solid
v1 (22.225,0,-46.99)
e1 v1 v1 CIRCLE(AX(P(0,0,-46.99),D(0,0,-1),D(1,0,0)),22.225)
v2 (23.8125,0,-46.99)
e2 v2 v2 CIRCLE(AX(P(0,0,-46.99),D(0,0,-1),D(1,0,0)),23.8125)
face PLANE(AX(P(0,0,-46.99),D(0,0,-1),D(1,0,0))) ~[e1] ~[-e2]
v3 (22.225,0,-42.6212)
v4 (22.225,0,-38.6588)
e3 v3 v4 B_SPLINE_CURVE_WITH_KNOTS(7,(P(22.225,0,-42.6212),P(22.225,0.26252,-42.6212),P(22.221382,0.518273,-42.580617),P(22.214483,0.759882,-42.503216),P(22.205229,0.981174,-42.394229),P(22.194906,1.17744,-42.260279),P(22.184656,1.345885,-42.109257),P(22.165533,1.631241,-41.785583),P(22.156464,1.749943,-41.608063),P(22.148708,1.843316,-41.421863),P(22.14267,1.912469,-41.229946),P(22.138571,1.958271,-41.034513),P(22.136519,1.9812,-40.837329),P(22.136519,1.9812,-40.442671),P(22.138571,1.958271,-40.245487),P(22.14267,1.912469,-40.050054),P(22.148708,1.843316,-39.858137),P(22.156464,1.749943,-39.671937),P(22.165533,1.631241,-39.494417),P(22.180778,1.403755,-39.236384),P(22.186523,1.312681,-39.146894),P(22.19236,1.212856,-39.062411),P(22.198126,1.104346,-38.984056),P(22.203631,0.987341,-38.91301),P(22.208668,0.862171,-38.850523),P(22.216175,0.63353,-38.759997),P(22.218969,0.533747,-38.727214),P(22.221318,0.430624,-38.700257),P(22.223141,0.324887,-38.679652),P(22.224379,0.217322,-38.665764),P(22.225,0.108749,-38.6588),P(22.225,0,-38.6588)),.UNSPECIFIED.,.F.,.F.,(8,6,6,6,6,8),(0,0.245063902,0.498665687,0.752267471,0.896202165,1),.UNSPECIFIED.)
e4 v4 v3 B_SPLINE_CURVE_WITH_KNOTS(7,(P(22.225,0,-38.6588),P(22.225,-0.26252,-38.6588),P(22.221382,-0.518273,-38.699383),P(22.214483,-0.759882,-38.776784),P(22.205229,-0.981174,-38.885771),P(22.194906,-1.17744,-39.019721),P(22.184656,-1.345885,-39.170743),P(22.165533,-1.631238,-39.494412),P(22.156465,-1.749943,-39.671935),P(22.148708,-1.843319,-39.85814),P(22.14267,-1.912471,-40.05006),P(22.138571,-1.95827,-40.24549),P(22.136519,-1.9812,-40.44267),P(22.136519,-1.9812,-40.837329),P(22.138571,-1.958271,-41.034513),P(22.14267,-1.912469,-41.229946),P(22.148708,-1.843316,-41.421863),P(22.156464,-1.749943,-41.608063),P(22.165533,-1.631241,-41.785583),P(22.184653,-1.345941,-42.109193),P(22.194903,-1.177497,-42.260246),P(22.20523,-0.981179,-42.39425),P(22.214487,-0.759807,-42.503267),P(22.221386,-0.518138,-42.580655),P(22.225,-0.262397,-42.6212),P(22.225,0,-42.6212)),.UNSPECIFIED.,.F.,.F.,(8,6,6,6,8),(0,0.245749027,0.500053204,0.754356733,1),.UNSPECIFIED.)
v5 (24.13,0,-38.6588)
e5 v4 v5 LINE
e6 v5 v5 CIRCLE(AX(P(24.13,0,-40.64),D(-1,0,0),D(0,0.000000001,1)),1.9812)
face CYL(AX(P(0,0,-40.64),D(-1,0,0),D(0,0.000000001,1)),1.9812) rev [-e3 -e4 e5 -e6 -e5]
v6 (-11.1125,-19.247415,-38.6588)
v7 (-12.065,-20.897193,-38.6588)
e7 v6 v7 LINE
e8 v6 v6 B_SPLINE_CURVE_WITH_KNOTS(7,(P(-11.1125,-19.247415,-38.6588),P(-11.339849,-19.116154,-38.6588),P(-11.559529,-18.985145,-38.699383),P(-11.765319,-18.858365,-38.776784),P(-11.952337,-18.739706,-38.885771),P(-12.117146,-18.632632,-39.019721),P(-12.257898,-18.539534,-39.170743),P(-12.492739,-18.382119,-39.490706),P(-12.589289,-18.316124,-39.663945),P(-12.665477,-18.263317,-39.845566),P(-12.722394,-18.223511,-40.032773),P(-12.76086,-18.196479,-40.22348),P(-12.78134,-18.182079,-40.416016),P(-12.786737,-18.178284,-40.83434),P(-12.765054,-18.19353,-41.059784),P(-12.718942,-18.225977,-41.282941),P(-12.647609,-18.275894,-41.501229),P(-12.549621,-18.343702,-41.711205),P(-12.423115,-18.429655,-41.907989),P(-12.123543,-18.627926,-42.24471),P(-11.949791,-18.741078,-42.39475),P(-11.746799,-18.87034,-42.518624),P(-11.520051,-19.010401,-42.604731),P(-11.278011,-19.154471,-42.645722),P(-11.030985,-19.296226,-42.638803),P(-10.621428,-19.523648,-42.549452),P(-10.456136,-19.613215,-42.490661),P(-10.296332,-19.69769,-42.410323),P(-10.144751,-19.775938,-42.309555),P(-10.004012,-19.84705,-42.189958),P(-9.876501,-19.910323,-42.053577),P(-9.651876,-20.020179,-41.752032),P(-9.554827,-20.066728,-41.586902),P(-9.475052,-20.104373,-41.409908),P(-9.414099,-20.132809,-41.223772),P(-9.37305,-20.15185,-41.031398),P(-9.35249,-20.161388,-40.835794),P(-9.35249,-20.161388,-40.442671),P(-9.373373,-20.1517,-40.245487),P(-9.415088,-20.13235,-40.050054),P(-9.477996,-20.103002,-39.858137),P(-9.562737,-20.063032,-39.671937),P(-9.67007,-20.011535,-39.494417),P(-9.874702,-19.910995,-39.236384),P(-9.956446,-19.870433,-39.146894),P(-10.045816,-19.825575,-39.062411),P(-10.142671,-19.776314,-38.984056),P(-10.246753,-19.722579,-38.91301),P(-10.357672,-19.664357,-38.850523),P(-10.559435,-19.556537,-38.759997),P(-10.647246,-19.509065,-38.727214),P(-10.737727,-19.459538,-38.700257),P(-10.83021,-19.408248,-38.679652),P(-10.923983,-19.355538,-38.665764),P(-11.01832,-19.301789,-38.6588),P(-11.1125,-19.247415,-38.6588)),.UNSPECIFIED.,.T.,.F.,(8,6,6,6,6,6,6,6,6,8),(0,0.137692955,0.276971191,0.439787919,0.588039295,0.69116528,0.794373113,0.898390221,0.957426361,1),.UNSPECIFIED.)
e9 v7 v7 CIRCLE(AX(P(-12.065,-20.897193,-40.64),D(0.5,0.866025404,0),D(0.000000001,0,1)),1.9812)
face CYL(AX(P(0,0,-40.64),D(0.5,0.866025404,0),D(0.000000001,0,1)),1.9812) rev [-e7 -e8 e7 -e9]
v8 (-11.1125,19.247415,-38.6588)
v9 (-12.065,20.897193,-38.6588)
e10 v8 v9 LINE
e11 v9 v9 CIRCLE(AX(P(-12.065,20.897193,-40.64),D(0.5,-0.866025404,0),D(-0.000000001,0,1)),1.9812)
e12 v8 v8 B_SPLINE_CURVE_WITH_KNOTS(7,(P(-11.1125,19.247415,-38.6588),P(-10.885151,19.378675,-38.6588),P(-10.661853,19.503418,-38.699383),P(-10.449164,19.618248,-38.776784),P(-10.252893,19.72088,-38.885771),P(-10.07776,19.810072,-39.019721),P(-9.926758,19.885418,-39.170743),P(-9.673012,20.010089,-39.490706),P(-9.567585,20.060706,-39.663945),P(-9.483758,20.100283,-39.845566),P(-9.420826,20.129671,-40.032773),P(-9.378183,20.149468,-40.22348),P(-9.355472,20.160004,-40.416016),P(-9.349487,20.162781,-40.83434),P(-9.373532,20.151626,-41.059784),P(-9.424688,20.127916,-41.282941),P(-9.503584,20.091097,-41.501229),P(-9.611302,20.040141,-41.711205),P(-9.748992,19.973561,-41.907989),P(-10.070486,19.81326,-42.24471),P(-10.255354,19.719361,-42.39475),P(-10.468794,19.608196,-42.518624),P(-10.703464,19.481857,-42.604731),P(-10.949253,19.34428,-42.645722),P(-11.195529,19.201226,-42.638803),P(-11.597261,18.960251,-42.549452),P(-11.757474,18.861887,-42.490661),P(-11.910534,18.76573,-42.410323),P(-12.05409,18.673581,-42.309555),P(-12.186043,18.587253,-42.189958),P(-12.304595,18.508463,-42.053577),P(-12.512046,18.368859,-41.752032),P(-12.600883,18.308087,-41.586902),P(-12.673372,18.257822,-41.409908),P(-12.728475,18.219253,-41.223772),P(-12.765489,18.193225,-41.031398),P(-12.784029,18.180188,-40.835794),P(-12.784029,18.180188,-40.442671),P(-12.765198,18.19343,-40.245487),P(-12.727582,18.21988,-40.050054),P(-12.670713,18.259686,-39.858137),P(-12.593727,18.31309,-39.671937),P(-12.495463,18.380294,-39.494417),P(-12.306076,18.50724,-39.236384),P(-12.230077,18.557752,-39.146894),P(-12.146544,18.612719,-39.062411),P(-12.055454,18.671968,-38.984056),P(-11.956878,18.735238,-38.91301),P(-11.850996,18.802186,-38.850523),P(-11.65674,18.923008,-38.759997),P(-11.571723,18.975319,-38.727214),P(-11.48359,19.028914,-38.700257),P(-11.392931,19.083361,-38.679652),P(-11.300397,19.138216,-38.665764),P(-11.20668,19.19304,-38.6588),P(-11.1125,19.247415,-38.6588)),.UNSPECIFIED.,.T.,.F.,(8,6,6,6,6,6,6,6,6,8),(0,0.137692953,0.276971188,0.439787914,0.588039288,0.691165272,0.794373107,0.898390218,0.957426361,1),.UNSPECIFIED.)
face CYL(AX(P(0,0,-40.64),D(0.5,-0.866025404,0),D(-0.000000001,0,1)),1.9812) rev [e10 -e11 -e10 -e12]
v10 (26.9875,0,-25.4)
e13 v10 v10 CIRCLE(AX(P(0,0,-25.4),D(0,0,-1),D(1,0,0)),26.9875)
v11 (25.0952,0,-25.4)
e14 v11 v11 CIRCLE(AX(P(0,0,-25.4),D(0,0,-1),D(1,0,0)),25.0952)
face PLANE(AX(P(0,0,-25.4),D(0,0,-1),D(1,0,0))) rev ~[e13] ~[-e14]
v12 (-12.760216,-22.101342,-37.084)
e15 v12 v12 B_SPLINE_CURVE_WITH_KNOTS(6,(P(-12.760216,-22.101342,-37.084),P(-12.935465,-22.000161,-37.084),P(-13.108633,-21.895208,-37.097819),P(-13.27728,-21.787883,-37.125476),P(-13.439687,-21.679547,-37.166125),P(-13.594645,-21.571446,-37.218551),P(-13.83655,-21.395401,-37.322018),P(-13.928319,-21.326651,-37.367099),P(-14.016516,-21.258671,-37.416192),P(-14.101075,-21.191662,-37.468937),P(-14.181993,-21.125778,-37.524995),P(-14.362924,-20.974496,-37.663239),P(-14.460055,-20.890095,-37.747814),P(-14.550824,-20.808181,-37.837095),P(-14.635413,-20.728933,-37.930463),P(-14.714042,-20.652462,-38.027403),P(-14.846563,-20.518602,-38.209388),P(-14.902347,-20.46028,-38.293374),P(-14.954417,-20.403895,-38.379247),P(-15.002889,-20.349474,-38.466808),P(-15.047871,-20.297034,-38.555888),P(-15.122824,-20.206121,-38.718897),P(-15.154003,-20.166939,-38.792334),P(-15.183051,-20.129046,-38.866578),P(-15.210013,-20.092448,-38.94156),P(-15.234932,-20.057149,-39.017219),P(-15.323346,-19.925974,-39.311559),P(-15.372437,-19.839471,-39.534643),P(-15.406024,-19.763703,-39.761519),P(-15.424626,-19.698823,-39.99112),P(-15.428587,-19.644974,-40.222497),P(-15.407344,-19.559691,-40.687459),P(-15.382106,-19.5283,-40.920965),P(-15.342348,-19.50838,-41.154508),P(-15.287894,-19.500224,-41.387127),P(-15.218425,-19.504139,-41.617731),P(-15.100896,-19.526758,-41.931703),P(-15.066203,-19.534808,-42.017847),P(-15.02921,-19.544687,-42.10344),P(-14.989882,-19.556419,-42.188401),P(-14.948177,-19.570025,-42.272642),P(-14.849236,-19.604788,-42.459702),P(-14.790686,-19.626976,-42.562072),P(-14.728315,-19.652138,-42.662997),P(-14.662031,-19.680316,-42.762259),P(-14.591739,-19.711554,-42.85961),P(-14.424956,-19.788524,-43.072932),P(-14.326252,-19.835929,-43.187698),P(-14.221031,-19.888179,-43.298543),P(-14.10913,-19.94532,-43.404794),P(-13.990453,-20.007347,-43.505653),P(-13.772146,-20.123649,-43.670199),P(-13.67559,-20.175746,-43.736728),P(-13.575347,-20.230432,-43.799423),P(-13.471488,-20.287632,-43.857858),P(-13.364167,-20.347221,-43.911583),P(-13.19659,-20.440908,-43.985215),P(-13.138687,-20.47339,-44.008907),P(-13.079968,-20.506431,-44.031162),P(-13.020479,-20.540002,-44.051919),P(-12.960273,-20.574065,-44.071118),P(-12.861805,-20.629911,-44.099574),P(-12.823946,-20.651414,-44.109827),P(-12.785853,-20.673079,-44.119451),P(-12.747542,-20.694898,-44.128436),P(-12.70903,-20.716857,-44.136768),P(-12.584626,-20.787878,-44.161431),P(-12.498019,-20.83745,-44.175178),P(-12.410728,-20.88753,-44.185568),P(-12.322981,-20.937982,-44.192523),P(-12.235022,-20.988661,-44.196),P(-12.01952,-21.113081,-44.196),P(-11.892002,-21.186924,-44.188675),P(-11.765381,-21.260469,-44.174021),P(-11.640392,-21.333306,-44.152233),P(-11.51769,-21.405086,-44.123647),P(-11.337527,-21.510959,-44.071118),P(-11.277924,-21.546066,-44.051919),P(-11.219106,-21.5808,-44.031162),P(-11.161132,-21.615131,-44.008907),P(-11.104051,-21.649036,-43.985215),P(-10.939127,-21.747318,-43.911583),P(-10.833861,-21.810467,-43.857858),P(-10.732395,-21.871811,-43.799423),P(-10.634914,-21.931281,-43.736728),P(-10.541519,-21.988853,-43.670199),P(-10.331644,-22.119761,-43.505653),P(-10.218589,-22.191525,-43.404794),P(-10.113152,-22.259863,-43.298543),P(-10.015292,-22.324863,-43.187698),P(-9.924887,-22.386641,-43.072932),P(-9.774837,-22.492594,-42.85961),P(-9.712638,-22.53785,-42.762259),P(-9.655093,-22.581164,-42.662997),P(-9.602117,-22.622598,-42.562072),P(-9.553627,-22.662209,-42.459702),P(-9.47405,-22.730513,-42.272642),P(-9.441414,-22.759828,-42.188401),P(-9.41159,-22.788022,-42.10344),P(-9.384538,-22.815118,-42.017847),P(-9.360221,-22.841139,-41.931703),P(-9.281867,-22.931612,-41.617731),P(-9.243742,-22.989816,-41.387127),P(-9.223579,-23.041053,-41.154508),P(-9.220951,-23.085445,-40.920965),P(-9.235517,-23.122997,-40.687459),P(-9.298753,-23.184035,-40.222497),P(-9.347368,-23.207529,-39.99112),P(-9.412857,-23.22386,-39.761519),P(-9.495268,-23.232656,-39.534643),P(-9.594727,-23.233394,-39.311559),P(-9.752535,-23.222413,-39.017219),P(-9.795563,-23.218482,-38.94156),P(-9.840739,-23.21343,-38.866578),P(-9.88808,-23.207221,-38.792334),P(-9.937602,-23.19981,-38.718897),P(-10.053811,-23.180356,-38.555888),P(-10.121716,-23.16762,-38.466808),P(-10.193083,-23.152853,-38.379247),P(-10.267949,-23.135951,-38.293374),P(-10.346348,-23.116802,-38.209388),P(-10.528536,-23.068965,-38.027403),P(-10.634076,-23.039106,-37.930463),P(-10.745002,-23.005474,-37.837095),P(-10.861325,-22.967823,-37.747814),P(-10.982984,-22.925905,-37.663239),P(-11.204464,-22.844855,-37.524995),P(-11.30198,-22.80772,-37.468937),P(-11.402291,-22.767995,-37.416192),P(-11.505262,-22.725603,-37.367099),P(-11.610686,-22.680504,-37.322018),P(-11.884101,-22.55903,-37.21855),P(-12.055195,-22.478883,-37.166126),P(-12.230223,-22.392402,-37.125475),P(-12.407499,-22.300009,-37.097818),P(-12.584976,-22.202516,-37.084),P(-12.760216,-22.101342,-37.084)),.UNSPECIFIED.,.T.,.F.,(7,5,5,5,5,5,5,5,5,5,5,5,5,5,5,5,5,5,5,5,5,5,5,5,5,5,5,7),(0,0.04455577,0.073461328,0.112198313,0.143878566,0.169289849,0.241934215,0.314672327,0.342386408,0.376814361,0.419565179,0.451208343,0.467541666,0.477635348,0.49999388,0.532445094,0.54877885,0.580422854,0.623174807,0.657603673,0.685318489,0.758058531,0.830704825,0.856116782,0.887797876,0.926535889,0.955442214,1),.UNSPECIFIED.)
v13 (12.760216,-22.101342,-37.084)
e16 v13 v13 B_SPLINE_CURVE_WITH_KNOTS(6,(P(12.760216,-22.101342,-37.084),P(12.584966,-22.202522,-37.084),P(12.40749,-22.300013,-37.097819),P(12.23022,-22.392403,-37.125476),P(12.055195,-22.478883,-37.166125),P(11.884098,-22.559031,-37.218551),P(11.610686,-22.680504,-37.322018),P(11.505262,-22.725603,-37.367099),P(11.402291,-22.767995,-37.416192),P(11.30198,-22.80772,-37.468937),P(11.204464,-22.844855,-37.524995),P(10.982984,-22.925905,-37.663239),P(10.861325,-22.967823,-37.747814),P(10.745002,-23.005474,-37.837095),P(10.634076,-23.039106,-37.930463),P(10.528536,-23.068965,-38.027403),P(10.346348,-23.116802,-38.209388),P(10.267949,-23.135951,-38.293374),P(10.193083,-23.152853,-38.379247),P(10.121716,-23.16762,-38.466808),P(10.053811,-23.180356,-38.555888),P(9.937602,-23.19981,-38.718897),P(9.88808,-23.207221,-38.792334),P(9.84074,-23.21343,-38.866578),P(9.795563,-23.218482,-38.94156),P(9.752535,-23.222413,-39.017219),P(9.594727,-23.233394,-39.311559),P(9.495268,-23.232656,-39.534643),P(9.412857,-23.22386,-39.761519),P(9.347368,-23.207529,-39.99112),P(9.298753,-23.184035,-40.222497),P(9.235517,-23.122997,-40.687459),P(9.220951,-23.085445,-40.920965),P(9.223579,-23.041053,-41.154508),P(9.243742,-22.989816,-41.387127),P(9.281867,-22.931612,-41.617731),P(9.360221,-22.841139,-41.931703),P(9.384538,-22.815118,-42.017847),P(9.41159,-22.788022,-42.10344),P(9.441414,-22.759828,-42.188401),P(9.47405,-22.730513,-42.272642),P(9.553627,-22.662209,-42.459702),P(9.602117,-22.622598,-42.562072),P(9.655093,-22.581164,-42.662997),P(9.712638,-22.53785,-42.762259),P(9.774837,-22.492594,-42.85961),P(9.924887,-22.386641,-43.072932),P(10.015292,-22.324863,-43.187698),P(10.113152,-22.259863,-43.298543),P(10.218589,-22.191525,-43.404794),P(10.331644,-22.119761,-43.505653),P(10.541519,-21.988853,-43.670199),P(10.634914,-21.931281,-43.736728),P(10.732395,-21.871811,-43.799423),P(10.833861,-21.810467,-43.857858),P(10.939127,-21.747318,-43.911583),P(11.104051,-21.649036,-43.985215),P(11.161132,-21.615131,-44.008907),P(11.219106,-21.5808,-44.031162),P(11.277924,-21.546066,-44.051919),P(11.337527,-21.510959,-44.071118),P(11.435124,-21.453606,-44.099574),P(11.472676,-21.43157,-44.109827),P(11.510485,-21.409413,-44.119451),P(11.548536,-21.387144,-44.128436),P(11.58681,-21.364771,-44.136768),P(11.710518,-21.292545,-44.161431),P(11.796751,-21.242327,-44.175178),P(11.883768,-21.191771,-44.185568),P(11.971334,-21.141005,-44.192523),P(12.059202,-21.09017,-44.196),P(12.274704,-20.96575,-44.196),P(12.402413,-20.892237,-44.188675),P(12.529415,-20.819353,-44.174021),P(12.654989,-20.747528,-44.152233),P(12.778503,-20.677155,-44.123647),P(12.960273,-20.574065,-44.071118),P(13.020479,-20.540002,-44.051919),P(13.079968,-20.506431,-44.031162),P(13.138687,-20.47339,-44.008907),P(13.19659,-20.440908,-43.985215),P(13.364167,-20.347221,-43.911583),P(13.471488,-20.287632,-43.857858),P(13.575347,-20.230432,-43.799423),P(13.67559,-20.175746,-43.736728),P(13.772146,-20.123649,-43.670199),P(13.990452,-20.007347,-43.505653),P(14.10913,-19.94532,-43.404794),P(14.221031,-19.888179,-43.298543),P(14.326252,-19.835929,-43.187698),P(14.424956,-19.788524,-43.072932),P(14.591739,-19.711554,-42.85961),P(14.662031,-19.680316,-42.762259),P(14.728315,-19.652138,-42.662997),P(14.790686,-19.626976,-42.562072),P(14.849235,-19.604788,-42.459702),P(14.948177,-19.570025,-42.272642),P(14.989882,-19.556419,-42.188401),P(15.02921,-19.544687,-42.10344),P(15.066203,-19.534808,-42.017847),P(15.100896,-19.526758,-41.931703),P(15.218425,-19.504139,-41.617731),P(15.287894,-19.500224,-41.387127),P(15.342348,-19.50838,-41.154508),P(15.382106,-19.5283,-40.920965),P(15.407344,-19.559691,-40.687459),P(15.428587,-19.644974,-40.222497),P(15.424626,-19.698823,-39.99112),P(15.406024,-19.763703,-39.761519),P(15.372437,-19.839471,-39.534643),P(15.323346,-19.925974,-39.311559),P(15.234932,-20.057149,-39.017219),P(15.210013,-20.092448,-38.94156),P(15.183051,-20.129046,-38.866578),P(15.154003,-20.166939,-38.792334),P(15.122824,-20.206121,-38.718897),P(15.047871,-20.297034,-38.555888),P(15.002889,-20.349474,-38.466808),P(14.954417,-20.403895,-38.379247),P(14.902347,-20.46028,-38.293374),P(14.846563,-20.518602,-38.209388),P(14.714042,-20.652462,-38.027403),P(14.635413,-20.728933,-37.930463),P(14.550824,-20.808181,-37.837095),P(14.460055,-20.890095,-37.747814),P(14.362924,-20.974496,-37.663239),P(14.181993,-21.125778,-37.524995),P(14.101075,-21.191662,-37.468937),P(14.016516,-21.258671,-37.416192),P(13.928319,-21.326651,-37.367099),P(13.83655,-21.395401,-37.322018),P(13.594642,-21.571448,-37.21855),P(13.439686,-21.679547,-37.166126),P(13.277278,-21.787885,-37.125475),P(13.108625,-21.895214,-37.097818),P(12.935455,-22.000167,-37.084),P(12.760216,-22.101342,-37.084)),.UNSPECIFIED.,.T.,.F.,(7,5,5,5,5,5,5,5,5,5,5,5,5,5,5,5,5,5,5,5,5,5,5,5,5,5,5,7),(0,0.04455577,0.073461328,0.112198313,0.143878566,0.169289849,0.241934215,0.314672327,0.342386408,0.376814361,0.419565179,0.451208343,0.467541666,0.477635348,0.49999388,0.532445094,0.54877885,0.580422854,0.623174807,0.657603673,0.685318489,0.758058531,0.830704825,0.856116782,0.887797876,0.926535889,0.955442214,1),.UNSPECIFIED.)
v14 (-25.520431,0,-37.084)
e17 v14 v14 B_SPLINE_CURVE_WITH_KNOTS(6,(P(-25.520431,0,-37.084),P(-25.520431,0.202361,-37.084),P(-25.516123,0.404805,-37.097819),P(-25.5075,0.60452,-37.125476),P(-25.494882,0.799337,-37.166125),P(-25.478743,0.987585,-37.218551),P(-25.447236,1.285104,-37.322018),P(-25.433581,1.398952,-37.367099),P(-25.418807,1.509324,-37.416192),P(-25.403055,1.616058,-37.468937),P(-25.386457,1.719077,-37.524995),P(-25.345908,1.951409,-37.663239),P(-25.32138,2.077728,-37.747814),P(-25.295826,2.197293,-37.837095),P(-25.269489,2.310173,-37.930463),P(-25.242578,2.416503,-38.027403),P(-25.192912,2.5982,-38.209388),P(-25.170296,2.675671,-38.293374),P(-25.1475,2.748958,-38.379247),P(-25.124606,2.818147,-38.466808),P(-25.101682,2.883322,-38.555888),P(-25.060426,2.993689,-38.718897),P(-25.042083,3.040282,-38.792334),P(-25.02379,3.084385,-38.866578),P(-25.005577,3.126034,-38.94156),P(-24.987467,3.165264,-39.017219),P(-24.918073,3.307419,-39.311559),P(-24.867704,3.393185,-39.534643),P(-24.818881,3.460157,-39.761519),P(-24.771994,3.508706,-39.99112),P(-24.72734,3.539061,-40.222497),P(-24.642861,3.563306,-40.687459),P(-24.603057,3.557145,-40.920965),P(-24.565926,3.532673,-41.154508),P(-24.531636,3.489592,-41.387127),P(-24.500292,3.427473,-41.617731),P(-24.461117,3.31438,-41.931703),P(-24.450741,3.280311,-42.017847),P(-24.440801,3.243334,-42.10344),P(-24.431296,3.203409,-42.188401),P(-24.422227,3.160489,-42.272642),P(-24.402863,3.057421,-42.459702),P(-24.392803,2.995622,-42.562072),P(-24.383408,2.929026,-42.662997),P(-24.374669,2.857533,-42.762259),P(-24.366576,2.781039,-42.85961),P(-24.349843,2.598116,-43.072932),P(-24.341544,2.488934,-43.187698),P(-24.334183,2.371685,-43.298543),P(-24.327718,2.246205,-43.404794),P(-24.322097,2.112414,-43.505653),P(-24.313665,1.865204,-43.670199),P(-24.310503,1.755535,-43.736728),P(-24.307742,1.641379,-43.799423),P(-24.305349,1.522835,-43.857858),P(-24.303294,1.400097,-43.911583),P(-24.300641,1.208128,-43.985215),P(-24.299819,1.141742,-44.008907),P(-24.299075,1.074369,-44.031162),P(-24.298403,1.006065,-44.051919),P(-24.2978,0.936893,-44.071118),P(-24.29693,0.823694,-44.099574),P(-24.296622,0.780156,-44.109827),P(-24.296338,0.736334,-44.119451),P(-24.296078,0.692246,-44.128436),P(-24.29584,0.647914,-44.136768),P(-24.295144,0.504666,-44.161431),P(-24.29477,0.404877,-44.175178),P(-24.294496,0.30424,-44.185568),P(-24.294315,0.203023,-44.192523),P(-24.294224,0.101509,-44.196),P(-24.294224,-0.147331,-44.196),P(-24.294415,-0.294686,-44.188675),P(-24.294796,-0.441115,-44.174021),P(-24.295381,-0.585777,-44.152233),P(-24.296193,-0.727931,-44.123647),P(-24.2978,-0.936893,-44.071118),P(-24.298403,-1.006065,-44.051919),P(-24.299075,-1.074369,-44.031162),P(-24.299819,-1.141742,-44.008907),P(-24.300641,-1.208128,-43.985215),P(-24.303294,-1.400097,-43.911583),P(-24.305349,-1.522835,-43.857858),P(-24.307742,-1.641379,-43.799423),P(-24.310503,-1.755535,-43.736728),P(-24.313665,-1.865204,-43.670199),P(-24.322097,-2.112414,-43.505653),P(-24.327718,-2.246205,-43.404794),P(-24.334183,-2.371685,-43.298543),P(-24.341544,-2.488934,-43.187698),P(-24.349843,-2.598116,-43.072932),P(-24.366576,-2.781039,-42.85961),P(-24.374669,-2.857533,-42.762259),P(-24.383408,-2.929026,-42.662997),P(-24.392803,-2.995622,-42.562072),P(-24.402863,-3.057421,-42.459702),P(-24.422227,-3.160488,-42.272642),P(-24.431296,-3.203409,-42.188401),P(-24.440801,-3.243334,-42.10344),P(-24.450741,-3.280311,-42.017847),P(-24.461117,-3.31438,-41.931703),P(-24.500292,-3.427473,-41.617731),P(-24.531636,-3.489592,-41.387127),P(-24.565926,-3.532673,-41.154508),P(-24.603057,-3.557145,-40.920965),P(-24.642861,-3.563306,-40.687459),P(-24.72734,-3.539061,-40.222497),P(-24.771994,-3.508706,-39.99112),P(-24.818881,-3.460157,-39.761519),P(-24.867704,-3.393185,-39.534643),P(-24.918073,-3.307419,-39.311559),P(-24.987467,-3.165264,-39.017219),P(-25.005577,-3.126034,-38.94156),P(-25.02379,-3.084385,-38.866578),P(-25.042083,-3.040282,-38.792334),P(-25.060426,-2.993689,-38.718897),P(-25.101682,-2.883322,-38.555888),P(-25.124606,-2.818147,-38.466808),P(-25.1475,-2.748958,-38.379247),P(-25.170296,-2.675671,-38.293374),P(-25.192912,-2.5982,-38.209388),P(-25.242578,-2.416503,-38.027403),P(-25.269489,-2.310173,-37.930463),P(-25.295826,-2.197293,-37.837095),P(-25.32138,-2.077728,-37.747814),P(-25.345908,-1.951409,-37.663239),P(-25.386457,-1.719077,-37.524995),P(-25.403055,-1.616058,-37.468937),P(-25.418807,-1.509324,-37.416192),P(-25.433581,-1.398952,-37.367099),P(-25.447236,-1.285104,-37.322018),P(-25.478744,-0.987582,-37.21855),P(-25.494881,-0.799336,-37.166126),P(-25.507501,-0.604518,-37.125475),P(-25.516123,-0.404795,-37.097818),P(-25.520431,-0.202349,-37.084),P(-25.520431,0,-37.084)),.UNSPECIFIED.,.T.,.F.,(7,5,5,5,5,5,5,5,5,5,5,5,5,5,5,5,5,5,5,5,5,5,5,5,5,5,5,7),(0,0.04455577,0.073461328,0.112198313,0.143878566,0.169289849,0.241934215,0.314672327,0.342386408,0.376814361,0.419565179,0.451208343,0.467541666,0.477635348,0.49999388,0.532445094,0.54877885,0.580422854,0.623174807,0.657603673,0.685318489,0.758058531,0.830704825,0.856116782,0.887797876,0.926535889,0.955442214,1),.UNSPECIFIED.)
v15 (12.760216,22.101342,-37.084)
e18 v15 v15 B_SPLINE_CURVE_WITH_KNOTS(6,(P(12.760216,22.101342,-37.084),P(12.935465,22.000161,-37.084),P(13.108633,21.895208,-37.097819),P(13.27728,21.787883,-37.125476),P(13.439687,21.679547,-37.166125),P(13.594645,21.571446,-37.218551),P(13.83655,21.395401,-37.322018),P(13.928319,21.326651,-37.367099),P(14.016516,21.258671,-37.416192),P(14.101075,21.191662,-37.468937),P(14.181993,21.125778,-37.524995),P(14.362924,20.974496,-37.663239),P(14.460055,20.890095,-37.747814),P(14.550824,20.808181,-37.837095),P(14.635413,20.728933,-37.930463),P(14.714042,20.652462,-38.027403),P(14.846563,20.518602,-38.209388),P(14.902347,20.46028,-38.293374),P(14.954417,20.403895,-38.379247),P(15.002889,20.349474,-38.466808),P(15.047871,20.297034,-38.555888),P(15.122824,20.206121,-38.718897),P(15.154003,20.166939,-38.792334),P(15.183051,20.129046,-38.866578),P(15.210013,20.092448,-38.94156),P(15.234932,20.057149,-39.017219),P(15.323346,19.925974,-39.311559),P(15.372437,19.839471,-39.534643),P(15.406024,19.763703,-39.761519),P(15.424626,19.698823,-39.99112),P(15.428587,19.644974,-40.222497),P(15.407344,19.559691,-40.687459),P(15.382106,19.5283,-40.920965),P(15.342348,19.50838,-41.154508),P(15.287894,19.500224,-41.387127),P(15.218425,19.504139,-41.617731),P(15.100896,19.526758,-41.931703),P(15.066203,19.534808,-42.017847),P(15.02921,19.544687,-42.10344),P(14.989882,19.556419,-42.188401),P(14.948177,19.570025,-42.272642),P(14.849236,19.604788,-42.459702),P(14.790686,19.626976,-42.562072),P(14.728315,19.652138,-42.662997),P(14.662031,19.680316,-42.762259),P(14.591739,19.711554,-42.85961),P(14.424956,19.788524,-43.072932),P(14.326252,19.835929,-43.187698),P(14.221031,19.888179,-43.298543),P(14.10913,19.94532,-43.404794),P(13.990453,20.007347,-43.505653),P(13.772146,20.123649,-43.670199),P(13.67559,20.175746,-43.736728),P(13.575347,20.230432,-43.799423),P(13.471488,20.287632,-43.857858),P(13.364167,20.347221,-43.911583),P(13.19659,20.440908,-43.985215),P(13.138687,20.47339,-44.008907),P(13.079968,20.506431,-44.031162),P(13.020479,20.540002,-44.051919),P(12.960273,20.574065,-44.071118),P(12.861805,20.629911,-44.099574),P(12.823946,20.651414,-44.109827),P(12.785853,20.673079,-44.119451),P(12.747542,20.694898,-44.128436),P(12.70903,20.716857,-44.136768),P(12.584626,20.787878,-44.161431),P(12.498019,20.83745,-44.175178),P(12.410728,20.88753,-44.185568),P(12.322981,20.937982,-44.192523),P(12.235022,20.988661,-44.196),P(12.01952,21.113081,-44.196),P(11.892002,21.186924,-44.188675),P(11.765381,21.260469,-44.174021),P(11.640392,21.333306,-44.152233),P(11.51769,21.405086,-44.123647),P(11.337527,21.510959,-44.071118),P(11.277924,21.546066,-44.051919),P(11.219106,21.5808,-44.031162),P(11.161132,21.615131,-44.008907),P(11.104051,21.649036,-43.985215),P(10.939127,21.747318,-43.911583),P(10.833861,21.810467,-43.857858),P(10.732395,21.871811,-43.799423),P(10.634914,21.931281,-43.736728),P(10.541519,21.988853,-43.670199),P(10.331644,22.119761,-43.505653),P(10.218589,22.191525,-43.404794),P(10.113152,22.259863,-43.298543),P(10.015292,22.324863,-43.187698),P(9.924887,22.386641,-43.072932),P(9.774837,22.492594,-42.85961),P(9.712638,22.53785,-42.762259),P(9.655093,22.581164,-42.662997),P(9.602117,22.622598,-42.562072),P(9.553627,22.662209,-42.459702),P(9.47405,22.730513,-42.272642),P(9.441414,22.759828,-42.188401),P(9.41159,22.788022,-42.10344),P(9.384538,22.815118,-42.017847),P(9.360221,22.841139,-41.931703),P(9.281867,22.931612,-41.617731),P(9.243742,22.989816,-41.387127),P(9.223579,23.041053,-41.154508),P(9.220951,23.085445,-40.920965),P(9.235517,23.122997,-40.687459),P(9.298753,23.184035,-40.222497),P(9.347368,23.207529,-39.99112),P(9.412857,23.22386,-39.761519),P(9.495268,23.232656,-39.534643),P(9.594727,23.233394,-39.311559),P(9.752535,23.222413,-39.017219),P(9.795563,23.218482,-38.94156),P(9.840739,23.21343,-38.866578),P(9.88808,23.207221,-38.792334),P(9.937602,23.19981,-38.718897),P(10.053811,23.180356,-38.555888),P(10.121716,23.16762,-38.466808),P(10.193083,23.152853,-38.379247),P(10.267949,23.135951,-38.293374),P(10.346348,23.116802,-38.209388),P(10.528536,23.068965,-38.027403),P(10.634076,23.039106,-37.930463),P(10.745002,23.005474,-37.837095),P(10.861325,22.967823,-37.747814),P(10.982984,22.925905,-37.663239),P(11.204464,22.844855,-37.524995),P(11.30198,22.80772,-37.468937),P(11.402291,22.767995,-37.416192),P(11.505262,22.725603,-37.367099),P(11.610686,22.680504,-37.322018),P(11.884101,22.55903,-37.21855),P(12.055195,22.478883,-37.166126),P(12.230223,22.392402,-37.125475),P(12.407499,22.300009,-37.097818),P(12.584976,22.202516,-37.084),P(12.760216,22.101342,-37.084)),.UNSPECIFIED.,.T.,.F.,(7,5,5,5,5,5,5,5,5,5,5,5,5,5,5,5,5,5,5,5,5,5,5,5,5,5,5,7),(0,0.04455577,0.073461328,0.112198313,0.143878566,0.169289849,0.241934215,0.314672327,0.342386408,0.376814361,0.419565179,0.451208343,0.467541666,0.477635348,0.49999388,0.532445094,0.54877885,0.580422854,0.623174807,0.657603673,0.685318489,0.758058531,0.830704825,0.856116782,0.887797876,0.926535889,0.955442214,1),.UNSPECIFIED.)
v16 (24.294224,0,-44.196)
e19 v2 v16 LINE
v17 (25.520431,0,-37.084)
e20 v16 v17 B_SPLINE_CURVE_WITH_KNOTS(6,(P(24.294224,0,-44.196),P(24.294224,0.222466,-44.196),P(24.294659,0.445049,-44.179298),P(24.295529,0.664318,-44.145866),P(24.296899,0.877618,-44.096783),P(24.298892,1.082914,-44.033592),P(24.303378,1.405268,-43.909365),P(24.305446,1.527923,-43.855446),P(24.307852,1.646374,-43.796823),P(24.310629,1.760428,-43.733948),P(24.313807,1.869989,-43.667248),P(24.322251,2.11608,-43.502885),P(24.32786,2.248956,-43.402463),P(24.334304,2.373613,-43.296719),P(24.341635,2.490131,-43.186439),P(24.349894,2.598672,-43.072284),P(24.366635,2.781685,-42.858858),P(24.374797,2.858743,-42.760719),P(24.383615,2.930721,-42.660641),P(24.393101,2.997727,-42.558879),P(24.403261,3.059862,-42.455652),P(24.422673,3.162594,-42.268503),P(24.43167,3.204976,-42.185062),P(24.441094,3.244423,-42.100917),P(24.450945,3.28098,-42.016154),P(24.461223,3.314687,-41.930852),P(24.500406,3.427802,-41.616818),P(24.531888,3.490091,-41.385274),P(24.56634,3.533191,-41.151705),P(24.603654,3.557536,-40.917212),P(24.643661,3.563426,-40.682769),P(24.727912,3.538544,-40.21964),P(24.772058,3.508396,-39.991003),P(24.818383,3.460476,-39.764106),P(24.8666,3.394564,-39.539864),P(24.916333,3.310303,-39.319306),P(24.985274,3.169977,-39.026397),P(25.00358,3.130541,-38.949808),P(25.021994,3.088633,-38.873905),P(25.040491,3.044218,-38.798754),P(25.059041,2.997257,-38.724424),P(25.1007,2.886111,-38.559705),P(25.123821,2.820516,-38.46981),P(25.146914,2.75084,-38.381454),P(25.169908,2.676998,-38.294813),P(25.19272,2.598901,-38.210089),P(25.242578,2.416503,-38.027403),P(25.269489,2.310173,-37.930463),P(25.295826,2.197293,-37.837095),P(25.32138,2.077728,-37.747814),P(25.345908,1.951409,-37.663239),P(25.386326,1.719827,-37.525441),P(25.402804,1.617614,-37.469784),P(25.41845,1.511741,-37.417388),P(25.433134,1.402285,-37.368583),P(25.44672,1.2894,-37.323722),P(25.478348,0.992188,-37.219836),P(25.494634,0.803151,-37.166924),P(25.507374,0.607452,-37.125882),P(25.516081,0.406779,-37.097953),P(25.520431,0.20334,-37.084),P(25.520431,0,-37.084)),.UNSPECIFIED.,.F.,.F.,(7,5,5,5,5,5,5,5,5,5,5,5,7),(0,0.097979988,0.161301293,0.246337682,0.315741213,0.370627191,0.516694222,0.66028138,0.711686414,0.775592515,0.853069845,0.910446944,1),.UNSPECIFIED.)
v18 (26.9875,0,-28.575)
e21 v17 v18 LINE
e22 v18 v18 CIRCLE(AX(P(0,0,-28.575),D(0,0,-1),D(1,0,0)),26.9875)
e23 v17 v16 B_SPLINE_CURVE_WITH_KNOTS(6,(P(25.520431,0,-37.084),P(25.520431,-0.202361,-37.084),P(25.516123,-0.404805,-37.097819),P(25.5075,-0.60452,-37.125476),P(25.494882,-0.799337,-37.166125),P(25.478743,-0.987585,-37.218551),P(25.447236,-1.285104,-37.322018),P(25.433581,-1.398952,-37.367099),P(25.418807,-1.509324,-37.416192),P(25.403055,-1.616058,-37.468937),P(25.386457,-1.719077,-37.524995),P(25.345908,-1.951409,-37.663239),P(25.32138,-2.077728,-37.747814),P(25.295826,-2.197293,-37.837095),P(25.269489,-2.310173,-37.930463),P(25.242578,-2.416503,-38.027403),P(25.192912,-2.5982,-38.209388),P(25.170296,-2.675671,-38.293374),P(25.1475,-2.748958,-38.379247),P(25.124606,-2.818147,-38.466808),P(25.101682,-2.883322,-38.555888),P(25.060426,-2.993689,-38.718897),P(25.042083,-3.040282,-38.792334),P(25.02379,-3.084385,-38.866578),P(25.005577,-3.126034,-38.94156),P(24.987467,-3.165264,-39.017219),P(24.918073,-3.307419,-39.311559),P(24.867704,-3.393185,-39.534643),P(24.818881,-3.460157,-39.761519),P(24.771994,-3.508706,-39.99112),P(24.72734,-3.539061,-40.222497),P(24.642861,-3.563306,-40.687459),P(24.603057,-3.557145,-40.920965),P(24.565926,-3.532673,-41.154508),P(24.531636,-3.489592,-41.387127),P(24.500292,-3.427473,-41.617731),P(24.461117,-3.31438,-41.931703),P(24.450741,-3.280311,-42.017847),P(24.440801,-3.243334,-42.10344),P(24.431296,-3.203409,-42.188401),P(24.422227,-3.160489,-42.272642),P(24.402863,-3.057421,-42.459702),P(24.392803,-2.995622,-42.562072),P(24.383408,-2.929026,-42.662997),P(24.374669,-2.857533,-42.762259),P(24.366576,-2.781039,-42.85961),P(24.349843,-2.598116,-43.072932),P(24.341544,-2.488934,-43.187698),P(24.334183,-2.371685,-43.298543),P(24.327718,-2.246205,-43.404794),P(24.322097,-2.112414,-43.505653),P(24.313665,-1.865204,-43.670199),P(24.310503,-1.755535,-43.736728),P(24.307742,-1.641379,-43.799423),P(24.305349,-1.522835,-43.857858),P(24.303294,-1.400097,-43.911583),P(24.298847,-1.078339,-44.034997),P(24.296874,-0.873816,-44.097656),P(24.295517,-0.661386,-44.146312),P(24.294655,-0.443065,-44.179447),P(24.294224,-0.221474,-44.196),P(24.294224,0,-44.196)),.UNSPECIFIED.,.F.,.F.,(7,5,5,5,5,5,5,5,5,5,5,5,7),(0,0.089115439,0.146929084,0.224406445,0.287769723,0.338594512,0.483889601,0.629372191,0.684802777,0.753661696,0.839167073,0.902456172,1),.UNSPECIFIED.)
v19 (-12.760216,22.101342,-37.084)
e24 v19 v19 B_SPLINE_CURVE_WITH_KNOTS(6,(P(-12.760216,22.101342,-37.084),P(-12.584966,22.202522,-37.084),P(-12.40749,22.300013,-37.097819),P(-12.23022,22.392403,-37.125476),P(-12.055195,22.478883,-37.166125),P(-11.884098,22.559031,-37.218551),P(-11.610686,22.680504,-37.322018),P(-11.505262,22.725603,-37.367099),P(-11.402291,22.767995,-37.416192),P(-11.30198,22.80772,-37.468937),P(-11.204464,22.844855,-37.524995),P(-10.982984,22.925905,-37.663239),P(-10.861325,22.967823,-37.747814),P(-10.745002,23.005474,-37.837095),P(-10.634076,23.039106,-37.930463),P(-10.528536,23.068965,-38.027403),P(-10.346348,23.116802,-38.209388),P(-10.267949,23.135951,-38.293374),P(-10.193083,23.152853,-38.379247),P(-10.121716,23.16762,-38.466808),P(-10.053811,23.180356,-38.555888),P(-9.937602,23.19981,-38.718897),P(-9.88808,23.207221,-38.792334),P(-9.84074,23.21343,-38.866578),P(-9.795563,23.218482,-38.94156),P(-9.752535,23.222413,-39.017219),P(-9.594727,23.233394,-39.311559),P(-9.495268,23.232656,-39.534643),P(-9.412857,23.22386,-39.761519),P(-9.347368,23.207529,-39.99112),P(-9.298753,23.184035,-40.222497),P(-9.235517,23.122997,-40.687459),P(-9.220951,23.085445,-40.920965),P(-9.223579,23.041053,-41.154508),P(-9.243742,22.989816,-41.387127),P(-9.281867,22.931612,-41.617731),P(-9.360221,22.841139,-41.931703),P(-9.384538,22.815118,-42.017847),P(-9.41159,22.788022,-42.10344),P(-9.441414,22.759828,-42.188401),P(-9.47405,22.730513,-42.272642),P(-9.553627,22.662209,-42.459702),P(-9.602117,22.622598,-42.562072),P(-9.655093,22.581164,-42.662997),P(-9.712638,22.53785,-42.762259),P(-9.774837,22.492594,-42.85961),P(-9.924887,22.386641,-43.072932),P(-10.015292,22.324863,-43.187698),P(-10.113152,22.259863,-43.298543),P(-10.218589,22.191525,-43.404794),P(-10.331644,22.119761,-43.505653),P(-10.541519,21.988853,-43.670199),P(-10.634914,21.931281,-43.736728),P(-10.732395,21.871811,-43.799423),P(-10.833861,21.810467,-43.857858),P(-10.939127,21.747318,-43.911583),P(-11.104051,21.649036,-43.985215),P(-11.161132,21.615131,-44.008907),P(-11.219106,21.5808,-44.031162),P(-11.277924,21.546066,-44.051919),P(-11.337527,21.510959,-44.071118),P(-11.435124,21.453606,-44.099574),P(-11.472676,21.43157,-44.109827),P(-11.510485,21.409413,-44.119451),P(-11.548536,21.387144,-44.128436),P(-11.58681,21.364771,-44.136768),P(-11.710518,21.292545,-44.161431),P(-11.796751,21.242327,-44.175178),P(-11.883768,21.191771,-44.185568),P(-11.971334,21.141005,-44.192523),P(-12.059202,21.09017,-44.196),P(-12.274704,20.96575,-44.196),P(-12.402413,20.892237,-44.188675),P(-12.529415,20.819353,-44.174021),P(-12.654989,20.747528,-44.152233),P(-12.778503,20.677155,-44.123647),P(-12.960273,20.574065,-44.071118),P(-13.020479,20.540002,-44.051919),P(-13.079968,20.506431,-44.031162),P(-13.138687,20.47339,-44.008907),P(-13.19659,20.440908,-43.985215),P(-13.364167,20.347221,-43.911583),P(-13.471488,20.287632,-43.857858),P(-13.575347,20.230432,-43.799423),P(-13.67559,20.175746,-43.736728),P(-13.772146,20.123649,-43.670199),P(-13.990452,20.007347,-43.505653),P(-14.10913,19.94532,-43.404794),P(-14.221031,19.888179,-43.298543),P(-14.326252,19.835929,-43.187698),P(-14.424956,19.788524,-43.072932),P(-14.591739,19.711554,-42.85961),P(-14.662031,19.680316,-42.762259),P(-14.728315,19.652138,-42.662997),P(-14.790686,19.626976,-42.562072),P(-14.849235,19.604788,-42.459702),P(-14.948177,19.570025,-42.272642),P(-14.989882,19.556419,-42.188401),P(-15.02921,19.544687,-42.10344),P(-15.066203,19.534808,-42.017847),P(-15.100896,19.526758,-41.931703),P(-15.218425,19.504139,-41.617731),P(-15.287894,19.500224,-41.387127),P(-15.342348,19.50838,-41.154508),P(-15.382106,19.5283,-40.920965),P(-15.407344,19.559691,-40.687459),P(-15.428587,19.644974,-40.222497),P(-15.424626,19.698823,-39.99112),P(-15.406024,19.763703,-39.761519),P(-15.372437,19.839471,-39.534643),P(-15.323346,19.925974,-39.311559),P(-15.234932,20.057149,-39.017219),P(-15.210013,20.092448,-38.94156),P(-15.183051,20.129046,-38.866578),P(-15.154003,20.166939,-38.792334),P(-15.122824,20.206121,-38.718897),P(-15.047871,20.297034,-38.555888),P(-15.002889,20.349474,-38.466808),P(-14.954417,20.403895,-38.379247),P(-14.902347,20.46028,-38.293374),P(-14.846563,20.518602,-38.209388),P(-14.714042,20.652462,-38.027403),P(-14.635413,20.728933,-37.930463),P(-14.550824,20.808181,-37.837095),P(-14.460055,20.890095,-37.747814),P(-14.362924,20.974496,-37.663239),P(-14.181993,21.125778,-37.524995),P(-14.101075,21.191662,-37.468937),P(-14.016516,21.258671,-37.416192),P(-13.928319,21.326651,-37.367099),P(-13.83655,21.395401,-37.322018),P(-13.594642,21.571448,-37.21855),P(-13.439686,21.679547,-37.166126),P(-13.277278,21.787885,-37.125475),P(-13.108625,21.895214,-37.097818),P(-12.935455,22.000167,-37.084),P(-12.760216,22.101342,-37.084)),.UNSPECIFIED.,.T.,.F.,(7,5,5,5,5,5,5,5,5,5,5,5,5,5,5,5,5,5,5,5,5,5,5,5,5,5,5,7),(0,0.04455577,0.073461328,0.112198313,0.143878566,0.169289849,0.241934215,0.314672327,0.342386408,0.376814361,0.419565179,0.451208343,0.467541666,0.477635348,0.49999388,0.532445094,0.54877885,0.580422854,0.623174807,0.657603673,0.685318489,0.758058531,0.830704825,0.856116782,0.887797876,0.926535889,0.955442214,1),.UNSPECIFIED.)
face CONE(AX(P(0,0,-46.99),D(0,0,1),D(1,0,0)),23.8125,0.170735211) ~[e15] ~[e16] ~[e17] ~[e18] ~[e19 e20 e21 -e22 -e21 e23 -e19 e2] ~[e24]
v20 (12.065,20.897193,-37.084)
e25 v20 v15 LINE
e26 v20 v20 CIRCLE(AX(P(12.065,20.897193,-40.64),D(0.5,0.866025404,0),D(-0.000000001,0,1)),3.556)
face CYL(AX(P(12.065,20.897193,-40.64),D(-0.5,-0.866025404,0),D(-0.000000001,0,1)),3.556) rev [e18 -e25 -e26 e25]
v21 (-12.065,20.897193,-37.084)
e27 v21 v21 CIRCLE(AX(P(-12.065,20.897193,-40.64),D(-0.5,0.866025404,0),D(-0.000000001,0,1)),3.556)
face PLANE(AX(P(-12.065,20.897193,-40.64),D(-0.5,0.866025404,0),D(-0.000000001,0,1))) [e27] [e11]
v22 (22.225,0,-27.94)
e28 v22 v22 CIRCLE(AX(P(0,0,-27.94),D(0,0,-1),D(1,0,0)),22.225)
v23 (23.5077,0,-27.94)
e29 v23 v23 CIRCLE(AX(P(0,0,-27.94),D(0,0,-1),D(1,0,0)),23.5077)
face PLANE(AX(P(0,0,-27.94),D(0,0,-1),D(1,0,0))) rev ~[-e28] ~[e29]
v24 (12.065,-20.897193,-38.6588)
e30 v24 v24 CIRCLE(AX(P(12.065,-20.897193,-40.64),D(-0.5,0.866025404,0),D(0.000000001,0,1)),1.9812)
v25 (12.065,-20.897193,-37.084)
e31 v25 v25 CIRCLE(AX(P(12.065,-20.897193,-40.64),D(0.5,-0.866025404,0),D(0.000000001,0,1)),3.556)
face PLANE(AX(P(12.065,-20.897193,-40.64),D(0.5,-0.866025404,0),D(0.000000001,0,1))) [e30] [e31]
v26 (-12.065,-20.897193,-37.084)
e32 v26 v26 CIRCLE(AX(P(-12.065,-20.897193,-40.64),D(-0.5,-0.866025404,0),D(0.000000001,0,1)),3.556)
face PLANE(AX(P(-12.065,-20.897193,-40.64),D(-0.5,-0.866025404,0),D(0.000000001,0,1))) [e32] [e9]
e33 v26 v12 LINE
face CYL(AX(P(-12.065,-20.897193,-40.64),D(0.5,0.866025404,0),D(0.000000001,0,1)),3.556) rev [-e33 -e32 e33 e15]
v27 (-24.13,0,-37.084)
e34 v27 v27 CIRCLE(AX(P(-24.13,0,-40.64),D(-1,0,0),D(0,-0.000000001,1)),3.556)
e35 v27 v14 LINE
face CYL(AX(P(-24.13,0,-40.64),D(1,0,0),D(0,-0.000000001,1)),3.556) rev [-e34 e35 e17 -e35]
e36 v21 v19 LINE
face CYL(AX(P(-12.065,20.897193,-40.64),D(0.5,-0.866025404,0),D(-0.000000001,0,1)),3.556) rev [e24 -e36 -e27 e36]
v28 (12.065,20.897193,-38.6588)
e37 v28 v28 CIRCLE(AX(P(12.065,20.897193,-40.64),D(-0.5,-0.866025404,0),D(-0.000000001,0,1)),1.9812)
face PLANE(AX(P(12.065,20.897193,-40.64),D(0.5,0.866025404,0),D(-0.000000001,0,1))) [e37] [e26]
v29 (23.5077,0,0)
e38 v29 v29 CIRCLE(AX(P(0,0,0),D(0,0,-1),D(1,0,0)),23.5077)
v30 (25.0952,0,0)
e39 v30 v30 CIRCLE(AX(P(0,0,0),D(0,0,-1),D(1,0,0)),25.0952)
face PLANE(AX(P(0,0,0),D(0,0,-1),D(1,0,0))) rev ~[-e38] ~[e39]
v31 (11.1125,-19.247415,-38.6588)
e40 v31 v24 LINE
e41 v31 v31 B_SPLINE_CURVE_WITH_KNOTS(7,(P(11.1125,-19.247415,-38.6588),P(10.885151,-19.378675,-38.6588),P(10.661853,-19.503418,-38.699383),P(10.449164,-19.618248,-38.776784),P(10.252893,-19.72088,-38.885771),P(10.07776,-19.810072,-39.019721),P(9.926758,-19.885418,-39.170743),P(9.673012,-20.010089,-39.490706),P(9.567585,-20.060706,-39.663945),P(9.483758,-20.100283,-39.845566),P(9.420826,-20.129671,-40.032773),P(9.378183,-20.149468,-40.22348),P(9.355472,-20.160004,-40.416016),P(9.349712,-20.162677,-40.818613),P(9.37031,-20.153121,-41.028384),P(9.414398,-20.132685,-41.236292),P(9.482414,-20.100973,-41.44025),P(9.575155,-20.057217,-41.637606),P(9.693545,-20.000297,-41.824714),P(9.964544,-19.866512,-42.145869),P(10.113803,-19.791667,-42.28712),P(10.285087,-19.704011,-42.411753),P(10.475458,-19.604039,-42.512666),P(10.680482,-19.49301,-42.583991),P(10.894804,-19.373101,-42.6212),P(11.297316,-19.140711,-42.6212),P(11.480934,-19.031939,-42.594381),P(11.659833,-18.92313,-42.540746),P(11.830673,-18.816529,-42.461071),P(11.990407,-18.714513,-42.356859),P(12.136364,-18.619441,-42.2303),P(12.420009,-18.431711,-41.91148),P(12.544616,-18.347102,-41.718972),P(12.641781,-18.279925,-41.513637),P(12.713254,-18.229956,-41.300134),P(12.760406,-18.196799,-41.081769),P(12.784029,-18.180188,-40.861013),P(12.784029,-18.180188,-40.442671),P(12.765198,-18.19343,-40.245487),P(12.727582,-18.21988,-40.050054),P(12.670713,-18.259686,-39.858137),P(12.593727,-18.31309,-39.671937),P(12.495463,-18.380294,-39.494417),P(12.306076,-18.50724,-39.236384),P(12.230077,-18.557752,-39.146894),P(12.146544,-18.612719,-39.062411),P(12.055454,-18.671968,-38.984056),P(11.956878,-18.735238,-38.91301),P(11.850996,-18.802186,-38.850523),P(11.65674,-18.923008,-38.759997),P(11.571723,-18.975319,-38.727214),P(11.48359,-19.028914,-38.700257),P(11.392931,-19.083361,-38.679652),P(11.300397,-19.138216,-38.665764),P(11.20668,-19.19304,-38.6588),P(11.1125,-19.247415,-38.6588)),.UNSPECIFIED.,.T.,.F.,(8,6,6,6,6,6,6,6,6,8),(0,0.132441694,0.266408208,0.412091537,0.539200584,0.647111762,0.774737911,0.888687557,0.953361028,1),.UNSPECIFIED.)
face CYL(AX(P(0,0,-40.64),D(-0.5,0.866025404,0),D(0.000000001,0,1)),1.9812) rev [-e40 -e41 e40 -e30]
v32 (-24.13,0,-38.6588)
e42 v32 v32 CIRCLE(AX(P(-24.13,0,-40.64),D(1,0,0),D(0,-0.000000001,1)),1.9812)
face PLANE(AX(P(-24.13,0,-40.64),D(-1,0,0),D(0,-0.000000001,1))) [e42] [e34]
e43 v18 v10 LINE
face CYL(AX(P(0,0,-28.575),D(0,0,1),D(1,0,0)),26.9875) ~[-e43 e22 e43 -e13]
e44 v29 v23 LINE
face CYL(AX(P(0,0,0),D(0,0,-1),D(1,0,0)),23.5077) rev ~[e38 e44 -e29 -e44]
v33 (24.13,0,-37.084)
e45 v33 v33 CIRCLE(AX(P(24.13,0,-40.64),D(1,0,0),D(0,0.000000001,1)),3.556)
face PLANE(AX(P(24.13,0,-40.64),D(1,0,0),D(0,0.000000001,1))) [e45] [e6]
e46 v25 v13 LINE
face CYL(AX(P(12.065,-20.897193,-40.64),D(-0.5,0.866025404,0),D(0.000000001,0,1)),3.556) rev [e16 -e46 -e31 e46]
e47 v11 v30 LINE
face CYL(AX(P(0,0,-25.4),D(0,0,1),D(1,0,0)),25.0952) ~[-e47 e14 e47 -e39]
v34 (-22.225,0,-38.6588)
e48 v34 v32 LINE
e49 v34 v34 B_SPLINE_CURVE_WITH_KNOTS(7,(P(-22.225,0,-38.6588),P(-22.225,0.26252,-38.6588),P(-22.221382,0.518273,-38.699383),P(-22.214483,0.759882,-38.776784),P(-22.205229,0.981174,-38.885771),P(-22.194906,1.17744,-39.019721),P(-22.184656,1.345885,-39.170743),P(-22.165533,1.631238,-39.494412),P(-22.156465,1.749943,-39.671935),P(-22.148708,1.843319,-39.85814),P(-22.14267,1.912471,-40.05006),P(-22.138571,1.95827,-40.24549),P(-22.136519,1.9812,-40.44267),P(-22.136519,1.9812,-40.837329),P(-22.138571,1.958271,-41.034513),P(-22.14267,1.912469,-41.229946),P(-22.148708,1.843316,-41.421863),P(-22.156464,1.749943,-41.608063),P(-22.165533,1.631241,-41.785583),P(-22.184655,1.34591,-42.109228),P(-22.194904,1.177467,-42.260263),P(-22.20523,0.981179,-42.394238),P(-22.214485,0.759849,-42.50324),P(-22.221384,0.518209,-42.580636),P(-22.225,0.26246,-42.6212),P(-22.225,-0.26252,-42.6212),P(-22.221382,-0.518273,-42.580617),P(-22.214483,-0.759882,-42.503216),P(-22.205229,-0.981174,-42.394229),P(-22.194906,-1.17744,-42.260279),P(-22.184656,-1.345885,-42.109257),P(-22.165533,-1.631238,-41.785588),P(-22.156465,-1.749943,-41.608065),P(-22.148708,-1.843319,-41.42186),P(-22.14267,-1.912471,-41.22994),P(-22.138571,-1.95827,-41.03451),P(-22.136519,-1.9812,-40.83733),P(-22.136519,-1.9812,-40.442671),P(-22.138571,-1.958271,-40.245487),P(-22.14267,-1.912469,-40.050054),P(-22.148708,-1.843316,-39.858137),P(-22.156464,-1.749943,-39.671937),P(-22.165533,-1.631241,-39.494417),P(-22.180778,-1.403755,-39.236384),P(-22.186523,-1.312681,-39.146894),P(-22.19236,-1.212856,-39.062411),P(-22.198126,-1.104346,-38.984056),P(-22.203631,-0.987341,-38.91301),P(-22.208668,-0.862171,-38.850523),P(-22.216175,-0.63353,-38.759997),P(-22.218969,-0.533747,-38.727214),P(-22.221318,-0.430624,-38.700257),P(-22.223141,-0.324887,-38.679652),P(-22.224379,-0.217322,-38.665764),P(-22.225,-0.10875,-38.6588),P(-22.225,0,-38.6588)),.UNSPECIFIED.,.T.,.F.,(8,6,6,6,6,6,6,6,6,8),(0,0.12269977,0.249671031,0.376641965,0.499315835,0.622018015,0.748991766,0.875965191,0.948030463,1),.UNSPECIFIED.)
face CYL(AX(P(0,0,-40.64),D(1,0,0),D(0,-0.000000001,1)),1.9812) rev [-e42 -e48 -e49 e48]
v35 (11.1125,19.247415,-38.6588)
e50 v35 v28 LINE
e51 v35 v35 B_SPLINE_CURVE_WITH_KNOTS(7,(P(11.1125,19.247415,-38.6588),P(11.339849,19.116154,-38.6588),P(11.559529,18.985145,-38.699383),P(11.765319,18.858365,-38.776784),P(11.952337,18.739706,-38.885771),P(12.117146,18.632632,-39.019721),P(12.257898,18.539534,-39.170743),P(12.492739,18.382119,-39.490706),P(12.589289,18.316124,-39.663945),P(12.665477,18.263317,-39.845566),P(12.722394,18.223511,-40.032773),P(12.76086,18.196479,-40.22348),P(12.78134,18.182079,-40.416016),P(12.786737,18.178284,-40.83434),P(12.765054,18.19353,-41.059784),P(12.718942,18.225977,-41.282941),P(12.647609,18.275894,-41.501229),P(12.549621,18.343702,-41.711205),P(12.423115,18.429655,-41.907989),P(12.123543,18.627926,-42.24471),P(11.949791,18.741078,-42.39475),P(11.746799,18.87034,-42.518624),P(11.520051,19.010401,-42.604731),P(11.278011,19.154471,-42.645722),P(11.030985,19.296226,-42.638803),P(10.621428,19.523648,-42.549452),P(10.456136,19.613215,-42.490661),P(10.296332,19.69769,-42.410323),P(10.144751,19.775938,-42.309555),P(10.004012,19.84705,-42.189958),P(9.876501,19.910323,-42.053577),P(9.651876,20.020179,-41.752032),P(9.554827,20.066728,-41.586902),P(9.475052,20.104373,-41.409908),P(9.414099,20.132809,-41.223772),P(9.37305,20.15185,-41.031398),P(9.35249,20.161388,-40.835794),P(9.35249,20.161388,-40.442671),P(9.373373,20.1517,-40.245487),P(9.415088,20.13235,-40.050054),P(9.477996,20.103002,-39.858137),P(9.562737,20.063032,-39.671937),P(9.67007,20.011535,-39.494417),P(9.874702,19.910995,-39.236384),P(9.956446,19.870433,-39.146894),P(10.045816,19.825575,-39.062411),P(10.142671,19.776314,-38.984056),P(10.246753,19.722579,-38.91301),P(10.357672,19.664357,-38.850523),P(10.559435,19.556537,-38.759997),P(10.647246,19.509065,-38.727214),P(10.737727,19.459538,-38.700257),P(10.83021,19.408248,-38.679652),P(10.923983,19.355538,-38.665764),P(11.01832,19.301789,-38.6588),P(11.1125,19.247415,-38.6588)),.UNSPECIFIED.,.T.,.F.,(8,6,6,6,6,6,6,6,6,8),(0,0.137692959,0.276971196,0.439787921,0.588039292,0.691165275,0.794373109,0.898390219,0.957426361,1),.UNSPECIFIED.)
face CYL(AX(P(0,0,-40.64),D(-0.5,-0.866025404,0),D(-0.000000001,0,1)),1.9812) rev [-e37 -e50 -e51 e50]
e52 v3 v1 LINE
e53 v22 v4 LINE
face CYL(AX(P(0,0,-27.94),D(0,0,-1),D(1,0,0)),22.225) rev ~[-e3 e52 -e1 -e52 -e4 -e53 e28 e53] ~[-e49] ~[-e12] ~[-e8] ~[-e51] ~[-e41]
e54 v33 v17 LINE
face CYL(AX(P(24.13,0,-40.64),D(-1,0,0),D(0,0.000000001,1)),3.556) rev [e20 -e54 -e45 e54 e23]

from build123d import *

# Parameters (mm, degrees)
SKETCH2_R          = 1.9812
CUT_EXTRUDE1_DEPTH = 61.53685169
CUT_EXTRUDE2_START = 24.13
SKETCH3_R          = 3.556
CUT_EXTRUDE2_DEPTH = 2.54
CIRPATTERN1_COUNT  = 6


with BuildPart() as part:
    # Sketch1 → Revolve1 (revolve)
    with BuildSketch(Plane(origin=(0, 0, 0), x_dir=(0, 0, -1), z_dir=(1, 0, 0)), mode=Mode.PRIVATE) as revolve1_sk:
        Polygon((0, 23.5077), (27.94, 23.5077), (27.94, 22.225), (46.99, 22.225), (46.99, 23.8125), (28.575, 26.9875), (25.4, 26.9875), (25.4, 25.0952), (0, 25.0952), align=None)
    revolve(revolve1_sk.sketch.rotate(Axis((0, 0, 0), (0, 0, -1)), 90), axis=Axis((0, 0, 0), (0, 0, -1)))

    # Sketch2 → Cut-Extrude1 (cut, through all)
    with BuildSketch(Plane(origin=(0, 0, 0), x_dir=(0, 0, -1), z_dir=(1, 0, 0))):
        with Locations(Location((40.64, 0, 0), (0, 0, 179.999999954))):
            Circle(SKETCH2_R)
    cut_extrude1 = extrude(amount=CUT_EXTRUDE1_DEPTH, mode=Mode.SUBTRACT)

    # Sketch3 → Cut-Extrude2 (cut)
    with BuildSketch(Plane(origin=(0, 0, 0), x_dir=(0, 0, -1), z_dir=(1, 0, 0)).offset(CUT_EXTRUDE2_START)):
        with Locations(Location((40.64, 0, 0), (0, 0, 179.999999954))):
            Circle(SKETCH3_R)
    cut_extrude2 = extrude(amount=CUT_EXTRUDE2_DEPTH, mode=Mode.SUBTRACT)

    # CirPattern1: Cut-Extrude1, Cut-Extrude2 ×6 about axis
    cirpattern1_axis = Axis((0, 0, 0), (0, 0, 1))
    add([cut_extrude1.rotate(cirpattern1_axis, i * 360 / CIRPATTERN1_COUNT) for i in range(1, CIRPATTERN1_COUNT)], mode=Mode.SUBTRACT)
    add([cut_extrude2.rotate(cirpattern1_axis, i * 360 / CIRPATTERN1_COUNT) for i in range(1, CIRPATTERN1_COUNT)], mode=Mode.SUBTRACT)


solid = part.part
